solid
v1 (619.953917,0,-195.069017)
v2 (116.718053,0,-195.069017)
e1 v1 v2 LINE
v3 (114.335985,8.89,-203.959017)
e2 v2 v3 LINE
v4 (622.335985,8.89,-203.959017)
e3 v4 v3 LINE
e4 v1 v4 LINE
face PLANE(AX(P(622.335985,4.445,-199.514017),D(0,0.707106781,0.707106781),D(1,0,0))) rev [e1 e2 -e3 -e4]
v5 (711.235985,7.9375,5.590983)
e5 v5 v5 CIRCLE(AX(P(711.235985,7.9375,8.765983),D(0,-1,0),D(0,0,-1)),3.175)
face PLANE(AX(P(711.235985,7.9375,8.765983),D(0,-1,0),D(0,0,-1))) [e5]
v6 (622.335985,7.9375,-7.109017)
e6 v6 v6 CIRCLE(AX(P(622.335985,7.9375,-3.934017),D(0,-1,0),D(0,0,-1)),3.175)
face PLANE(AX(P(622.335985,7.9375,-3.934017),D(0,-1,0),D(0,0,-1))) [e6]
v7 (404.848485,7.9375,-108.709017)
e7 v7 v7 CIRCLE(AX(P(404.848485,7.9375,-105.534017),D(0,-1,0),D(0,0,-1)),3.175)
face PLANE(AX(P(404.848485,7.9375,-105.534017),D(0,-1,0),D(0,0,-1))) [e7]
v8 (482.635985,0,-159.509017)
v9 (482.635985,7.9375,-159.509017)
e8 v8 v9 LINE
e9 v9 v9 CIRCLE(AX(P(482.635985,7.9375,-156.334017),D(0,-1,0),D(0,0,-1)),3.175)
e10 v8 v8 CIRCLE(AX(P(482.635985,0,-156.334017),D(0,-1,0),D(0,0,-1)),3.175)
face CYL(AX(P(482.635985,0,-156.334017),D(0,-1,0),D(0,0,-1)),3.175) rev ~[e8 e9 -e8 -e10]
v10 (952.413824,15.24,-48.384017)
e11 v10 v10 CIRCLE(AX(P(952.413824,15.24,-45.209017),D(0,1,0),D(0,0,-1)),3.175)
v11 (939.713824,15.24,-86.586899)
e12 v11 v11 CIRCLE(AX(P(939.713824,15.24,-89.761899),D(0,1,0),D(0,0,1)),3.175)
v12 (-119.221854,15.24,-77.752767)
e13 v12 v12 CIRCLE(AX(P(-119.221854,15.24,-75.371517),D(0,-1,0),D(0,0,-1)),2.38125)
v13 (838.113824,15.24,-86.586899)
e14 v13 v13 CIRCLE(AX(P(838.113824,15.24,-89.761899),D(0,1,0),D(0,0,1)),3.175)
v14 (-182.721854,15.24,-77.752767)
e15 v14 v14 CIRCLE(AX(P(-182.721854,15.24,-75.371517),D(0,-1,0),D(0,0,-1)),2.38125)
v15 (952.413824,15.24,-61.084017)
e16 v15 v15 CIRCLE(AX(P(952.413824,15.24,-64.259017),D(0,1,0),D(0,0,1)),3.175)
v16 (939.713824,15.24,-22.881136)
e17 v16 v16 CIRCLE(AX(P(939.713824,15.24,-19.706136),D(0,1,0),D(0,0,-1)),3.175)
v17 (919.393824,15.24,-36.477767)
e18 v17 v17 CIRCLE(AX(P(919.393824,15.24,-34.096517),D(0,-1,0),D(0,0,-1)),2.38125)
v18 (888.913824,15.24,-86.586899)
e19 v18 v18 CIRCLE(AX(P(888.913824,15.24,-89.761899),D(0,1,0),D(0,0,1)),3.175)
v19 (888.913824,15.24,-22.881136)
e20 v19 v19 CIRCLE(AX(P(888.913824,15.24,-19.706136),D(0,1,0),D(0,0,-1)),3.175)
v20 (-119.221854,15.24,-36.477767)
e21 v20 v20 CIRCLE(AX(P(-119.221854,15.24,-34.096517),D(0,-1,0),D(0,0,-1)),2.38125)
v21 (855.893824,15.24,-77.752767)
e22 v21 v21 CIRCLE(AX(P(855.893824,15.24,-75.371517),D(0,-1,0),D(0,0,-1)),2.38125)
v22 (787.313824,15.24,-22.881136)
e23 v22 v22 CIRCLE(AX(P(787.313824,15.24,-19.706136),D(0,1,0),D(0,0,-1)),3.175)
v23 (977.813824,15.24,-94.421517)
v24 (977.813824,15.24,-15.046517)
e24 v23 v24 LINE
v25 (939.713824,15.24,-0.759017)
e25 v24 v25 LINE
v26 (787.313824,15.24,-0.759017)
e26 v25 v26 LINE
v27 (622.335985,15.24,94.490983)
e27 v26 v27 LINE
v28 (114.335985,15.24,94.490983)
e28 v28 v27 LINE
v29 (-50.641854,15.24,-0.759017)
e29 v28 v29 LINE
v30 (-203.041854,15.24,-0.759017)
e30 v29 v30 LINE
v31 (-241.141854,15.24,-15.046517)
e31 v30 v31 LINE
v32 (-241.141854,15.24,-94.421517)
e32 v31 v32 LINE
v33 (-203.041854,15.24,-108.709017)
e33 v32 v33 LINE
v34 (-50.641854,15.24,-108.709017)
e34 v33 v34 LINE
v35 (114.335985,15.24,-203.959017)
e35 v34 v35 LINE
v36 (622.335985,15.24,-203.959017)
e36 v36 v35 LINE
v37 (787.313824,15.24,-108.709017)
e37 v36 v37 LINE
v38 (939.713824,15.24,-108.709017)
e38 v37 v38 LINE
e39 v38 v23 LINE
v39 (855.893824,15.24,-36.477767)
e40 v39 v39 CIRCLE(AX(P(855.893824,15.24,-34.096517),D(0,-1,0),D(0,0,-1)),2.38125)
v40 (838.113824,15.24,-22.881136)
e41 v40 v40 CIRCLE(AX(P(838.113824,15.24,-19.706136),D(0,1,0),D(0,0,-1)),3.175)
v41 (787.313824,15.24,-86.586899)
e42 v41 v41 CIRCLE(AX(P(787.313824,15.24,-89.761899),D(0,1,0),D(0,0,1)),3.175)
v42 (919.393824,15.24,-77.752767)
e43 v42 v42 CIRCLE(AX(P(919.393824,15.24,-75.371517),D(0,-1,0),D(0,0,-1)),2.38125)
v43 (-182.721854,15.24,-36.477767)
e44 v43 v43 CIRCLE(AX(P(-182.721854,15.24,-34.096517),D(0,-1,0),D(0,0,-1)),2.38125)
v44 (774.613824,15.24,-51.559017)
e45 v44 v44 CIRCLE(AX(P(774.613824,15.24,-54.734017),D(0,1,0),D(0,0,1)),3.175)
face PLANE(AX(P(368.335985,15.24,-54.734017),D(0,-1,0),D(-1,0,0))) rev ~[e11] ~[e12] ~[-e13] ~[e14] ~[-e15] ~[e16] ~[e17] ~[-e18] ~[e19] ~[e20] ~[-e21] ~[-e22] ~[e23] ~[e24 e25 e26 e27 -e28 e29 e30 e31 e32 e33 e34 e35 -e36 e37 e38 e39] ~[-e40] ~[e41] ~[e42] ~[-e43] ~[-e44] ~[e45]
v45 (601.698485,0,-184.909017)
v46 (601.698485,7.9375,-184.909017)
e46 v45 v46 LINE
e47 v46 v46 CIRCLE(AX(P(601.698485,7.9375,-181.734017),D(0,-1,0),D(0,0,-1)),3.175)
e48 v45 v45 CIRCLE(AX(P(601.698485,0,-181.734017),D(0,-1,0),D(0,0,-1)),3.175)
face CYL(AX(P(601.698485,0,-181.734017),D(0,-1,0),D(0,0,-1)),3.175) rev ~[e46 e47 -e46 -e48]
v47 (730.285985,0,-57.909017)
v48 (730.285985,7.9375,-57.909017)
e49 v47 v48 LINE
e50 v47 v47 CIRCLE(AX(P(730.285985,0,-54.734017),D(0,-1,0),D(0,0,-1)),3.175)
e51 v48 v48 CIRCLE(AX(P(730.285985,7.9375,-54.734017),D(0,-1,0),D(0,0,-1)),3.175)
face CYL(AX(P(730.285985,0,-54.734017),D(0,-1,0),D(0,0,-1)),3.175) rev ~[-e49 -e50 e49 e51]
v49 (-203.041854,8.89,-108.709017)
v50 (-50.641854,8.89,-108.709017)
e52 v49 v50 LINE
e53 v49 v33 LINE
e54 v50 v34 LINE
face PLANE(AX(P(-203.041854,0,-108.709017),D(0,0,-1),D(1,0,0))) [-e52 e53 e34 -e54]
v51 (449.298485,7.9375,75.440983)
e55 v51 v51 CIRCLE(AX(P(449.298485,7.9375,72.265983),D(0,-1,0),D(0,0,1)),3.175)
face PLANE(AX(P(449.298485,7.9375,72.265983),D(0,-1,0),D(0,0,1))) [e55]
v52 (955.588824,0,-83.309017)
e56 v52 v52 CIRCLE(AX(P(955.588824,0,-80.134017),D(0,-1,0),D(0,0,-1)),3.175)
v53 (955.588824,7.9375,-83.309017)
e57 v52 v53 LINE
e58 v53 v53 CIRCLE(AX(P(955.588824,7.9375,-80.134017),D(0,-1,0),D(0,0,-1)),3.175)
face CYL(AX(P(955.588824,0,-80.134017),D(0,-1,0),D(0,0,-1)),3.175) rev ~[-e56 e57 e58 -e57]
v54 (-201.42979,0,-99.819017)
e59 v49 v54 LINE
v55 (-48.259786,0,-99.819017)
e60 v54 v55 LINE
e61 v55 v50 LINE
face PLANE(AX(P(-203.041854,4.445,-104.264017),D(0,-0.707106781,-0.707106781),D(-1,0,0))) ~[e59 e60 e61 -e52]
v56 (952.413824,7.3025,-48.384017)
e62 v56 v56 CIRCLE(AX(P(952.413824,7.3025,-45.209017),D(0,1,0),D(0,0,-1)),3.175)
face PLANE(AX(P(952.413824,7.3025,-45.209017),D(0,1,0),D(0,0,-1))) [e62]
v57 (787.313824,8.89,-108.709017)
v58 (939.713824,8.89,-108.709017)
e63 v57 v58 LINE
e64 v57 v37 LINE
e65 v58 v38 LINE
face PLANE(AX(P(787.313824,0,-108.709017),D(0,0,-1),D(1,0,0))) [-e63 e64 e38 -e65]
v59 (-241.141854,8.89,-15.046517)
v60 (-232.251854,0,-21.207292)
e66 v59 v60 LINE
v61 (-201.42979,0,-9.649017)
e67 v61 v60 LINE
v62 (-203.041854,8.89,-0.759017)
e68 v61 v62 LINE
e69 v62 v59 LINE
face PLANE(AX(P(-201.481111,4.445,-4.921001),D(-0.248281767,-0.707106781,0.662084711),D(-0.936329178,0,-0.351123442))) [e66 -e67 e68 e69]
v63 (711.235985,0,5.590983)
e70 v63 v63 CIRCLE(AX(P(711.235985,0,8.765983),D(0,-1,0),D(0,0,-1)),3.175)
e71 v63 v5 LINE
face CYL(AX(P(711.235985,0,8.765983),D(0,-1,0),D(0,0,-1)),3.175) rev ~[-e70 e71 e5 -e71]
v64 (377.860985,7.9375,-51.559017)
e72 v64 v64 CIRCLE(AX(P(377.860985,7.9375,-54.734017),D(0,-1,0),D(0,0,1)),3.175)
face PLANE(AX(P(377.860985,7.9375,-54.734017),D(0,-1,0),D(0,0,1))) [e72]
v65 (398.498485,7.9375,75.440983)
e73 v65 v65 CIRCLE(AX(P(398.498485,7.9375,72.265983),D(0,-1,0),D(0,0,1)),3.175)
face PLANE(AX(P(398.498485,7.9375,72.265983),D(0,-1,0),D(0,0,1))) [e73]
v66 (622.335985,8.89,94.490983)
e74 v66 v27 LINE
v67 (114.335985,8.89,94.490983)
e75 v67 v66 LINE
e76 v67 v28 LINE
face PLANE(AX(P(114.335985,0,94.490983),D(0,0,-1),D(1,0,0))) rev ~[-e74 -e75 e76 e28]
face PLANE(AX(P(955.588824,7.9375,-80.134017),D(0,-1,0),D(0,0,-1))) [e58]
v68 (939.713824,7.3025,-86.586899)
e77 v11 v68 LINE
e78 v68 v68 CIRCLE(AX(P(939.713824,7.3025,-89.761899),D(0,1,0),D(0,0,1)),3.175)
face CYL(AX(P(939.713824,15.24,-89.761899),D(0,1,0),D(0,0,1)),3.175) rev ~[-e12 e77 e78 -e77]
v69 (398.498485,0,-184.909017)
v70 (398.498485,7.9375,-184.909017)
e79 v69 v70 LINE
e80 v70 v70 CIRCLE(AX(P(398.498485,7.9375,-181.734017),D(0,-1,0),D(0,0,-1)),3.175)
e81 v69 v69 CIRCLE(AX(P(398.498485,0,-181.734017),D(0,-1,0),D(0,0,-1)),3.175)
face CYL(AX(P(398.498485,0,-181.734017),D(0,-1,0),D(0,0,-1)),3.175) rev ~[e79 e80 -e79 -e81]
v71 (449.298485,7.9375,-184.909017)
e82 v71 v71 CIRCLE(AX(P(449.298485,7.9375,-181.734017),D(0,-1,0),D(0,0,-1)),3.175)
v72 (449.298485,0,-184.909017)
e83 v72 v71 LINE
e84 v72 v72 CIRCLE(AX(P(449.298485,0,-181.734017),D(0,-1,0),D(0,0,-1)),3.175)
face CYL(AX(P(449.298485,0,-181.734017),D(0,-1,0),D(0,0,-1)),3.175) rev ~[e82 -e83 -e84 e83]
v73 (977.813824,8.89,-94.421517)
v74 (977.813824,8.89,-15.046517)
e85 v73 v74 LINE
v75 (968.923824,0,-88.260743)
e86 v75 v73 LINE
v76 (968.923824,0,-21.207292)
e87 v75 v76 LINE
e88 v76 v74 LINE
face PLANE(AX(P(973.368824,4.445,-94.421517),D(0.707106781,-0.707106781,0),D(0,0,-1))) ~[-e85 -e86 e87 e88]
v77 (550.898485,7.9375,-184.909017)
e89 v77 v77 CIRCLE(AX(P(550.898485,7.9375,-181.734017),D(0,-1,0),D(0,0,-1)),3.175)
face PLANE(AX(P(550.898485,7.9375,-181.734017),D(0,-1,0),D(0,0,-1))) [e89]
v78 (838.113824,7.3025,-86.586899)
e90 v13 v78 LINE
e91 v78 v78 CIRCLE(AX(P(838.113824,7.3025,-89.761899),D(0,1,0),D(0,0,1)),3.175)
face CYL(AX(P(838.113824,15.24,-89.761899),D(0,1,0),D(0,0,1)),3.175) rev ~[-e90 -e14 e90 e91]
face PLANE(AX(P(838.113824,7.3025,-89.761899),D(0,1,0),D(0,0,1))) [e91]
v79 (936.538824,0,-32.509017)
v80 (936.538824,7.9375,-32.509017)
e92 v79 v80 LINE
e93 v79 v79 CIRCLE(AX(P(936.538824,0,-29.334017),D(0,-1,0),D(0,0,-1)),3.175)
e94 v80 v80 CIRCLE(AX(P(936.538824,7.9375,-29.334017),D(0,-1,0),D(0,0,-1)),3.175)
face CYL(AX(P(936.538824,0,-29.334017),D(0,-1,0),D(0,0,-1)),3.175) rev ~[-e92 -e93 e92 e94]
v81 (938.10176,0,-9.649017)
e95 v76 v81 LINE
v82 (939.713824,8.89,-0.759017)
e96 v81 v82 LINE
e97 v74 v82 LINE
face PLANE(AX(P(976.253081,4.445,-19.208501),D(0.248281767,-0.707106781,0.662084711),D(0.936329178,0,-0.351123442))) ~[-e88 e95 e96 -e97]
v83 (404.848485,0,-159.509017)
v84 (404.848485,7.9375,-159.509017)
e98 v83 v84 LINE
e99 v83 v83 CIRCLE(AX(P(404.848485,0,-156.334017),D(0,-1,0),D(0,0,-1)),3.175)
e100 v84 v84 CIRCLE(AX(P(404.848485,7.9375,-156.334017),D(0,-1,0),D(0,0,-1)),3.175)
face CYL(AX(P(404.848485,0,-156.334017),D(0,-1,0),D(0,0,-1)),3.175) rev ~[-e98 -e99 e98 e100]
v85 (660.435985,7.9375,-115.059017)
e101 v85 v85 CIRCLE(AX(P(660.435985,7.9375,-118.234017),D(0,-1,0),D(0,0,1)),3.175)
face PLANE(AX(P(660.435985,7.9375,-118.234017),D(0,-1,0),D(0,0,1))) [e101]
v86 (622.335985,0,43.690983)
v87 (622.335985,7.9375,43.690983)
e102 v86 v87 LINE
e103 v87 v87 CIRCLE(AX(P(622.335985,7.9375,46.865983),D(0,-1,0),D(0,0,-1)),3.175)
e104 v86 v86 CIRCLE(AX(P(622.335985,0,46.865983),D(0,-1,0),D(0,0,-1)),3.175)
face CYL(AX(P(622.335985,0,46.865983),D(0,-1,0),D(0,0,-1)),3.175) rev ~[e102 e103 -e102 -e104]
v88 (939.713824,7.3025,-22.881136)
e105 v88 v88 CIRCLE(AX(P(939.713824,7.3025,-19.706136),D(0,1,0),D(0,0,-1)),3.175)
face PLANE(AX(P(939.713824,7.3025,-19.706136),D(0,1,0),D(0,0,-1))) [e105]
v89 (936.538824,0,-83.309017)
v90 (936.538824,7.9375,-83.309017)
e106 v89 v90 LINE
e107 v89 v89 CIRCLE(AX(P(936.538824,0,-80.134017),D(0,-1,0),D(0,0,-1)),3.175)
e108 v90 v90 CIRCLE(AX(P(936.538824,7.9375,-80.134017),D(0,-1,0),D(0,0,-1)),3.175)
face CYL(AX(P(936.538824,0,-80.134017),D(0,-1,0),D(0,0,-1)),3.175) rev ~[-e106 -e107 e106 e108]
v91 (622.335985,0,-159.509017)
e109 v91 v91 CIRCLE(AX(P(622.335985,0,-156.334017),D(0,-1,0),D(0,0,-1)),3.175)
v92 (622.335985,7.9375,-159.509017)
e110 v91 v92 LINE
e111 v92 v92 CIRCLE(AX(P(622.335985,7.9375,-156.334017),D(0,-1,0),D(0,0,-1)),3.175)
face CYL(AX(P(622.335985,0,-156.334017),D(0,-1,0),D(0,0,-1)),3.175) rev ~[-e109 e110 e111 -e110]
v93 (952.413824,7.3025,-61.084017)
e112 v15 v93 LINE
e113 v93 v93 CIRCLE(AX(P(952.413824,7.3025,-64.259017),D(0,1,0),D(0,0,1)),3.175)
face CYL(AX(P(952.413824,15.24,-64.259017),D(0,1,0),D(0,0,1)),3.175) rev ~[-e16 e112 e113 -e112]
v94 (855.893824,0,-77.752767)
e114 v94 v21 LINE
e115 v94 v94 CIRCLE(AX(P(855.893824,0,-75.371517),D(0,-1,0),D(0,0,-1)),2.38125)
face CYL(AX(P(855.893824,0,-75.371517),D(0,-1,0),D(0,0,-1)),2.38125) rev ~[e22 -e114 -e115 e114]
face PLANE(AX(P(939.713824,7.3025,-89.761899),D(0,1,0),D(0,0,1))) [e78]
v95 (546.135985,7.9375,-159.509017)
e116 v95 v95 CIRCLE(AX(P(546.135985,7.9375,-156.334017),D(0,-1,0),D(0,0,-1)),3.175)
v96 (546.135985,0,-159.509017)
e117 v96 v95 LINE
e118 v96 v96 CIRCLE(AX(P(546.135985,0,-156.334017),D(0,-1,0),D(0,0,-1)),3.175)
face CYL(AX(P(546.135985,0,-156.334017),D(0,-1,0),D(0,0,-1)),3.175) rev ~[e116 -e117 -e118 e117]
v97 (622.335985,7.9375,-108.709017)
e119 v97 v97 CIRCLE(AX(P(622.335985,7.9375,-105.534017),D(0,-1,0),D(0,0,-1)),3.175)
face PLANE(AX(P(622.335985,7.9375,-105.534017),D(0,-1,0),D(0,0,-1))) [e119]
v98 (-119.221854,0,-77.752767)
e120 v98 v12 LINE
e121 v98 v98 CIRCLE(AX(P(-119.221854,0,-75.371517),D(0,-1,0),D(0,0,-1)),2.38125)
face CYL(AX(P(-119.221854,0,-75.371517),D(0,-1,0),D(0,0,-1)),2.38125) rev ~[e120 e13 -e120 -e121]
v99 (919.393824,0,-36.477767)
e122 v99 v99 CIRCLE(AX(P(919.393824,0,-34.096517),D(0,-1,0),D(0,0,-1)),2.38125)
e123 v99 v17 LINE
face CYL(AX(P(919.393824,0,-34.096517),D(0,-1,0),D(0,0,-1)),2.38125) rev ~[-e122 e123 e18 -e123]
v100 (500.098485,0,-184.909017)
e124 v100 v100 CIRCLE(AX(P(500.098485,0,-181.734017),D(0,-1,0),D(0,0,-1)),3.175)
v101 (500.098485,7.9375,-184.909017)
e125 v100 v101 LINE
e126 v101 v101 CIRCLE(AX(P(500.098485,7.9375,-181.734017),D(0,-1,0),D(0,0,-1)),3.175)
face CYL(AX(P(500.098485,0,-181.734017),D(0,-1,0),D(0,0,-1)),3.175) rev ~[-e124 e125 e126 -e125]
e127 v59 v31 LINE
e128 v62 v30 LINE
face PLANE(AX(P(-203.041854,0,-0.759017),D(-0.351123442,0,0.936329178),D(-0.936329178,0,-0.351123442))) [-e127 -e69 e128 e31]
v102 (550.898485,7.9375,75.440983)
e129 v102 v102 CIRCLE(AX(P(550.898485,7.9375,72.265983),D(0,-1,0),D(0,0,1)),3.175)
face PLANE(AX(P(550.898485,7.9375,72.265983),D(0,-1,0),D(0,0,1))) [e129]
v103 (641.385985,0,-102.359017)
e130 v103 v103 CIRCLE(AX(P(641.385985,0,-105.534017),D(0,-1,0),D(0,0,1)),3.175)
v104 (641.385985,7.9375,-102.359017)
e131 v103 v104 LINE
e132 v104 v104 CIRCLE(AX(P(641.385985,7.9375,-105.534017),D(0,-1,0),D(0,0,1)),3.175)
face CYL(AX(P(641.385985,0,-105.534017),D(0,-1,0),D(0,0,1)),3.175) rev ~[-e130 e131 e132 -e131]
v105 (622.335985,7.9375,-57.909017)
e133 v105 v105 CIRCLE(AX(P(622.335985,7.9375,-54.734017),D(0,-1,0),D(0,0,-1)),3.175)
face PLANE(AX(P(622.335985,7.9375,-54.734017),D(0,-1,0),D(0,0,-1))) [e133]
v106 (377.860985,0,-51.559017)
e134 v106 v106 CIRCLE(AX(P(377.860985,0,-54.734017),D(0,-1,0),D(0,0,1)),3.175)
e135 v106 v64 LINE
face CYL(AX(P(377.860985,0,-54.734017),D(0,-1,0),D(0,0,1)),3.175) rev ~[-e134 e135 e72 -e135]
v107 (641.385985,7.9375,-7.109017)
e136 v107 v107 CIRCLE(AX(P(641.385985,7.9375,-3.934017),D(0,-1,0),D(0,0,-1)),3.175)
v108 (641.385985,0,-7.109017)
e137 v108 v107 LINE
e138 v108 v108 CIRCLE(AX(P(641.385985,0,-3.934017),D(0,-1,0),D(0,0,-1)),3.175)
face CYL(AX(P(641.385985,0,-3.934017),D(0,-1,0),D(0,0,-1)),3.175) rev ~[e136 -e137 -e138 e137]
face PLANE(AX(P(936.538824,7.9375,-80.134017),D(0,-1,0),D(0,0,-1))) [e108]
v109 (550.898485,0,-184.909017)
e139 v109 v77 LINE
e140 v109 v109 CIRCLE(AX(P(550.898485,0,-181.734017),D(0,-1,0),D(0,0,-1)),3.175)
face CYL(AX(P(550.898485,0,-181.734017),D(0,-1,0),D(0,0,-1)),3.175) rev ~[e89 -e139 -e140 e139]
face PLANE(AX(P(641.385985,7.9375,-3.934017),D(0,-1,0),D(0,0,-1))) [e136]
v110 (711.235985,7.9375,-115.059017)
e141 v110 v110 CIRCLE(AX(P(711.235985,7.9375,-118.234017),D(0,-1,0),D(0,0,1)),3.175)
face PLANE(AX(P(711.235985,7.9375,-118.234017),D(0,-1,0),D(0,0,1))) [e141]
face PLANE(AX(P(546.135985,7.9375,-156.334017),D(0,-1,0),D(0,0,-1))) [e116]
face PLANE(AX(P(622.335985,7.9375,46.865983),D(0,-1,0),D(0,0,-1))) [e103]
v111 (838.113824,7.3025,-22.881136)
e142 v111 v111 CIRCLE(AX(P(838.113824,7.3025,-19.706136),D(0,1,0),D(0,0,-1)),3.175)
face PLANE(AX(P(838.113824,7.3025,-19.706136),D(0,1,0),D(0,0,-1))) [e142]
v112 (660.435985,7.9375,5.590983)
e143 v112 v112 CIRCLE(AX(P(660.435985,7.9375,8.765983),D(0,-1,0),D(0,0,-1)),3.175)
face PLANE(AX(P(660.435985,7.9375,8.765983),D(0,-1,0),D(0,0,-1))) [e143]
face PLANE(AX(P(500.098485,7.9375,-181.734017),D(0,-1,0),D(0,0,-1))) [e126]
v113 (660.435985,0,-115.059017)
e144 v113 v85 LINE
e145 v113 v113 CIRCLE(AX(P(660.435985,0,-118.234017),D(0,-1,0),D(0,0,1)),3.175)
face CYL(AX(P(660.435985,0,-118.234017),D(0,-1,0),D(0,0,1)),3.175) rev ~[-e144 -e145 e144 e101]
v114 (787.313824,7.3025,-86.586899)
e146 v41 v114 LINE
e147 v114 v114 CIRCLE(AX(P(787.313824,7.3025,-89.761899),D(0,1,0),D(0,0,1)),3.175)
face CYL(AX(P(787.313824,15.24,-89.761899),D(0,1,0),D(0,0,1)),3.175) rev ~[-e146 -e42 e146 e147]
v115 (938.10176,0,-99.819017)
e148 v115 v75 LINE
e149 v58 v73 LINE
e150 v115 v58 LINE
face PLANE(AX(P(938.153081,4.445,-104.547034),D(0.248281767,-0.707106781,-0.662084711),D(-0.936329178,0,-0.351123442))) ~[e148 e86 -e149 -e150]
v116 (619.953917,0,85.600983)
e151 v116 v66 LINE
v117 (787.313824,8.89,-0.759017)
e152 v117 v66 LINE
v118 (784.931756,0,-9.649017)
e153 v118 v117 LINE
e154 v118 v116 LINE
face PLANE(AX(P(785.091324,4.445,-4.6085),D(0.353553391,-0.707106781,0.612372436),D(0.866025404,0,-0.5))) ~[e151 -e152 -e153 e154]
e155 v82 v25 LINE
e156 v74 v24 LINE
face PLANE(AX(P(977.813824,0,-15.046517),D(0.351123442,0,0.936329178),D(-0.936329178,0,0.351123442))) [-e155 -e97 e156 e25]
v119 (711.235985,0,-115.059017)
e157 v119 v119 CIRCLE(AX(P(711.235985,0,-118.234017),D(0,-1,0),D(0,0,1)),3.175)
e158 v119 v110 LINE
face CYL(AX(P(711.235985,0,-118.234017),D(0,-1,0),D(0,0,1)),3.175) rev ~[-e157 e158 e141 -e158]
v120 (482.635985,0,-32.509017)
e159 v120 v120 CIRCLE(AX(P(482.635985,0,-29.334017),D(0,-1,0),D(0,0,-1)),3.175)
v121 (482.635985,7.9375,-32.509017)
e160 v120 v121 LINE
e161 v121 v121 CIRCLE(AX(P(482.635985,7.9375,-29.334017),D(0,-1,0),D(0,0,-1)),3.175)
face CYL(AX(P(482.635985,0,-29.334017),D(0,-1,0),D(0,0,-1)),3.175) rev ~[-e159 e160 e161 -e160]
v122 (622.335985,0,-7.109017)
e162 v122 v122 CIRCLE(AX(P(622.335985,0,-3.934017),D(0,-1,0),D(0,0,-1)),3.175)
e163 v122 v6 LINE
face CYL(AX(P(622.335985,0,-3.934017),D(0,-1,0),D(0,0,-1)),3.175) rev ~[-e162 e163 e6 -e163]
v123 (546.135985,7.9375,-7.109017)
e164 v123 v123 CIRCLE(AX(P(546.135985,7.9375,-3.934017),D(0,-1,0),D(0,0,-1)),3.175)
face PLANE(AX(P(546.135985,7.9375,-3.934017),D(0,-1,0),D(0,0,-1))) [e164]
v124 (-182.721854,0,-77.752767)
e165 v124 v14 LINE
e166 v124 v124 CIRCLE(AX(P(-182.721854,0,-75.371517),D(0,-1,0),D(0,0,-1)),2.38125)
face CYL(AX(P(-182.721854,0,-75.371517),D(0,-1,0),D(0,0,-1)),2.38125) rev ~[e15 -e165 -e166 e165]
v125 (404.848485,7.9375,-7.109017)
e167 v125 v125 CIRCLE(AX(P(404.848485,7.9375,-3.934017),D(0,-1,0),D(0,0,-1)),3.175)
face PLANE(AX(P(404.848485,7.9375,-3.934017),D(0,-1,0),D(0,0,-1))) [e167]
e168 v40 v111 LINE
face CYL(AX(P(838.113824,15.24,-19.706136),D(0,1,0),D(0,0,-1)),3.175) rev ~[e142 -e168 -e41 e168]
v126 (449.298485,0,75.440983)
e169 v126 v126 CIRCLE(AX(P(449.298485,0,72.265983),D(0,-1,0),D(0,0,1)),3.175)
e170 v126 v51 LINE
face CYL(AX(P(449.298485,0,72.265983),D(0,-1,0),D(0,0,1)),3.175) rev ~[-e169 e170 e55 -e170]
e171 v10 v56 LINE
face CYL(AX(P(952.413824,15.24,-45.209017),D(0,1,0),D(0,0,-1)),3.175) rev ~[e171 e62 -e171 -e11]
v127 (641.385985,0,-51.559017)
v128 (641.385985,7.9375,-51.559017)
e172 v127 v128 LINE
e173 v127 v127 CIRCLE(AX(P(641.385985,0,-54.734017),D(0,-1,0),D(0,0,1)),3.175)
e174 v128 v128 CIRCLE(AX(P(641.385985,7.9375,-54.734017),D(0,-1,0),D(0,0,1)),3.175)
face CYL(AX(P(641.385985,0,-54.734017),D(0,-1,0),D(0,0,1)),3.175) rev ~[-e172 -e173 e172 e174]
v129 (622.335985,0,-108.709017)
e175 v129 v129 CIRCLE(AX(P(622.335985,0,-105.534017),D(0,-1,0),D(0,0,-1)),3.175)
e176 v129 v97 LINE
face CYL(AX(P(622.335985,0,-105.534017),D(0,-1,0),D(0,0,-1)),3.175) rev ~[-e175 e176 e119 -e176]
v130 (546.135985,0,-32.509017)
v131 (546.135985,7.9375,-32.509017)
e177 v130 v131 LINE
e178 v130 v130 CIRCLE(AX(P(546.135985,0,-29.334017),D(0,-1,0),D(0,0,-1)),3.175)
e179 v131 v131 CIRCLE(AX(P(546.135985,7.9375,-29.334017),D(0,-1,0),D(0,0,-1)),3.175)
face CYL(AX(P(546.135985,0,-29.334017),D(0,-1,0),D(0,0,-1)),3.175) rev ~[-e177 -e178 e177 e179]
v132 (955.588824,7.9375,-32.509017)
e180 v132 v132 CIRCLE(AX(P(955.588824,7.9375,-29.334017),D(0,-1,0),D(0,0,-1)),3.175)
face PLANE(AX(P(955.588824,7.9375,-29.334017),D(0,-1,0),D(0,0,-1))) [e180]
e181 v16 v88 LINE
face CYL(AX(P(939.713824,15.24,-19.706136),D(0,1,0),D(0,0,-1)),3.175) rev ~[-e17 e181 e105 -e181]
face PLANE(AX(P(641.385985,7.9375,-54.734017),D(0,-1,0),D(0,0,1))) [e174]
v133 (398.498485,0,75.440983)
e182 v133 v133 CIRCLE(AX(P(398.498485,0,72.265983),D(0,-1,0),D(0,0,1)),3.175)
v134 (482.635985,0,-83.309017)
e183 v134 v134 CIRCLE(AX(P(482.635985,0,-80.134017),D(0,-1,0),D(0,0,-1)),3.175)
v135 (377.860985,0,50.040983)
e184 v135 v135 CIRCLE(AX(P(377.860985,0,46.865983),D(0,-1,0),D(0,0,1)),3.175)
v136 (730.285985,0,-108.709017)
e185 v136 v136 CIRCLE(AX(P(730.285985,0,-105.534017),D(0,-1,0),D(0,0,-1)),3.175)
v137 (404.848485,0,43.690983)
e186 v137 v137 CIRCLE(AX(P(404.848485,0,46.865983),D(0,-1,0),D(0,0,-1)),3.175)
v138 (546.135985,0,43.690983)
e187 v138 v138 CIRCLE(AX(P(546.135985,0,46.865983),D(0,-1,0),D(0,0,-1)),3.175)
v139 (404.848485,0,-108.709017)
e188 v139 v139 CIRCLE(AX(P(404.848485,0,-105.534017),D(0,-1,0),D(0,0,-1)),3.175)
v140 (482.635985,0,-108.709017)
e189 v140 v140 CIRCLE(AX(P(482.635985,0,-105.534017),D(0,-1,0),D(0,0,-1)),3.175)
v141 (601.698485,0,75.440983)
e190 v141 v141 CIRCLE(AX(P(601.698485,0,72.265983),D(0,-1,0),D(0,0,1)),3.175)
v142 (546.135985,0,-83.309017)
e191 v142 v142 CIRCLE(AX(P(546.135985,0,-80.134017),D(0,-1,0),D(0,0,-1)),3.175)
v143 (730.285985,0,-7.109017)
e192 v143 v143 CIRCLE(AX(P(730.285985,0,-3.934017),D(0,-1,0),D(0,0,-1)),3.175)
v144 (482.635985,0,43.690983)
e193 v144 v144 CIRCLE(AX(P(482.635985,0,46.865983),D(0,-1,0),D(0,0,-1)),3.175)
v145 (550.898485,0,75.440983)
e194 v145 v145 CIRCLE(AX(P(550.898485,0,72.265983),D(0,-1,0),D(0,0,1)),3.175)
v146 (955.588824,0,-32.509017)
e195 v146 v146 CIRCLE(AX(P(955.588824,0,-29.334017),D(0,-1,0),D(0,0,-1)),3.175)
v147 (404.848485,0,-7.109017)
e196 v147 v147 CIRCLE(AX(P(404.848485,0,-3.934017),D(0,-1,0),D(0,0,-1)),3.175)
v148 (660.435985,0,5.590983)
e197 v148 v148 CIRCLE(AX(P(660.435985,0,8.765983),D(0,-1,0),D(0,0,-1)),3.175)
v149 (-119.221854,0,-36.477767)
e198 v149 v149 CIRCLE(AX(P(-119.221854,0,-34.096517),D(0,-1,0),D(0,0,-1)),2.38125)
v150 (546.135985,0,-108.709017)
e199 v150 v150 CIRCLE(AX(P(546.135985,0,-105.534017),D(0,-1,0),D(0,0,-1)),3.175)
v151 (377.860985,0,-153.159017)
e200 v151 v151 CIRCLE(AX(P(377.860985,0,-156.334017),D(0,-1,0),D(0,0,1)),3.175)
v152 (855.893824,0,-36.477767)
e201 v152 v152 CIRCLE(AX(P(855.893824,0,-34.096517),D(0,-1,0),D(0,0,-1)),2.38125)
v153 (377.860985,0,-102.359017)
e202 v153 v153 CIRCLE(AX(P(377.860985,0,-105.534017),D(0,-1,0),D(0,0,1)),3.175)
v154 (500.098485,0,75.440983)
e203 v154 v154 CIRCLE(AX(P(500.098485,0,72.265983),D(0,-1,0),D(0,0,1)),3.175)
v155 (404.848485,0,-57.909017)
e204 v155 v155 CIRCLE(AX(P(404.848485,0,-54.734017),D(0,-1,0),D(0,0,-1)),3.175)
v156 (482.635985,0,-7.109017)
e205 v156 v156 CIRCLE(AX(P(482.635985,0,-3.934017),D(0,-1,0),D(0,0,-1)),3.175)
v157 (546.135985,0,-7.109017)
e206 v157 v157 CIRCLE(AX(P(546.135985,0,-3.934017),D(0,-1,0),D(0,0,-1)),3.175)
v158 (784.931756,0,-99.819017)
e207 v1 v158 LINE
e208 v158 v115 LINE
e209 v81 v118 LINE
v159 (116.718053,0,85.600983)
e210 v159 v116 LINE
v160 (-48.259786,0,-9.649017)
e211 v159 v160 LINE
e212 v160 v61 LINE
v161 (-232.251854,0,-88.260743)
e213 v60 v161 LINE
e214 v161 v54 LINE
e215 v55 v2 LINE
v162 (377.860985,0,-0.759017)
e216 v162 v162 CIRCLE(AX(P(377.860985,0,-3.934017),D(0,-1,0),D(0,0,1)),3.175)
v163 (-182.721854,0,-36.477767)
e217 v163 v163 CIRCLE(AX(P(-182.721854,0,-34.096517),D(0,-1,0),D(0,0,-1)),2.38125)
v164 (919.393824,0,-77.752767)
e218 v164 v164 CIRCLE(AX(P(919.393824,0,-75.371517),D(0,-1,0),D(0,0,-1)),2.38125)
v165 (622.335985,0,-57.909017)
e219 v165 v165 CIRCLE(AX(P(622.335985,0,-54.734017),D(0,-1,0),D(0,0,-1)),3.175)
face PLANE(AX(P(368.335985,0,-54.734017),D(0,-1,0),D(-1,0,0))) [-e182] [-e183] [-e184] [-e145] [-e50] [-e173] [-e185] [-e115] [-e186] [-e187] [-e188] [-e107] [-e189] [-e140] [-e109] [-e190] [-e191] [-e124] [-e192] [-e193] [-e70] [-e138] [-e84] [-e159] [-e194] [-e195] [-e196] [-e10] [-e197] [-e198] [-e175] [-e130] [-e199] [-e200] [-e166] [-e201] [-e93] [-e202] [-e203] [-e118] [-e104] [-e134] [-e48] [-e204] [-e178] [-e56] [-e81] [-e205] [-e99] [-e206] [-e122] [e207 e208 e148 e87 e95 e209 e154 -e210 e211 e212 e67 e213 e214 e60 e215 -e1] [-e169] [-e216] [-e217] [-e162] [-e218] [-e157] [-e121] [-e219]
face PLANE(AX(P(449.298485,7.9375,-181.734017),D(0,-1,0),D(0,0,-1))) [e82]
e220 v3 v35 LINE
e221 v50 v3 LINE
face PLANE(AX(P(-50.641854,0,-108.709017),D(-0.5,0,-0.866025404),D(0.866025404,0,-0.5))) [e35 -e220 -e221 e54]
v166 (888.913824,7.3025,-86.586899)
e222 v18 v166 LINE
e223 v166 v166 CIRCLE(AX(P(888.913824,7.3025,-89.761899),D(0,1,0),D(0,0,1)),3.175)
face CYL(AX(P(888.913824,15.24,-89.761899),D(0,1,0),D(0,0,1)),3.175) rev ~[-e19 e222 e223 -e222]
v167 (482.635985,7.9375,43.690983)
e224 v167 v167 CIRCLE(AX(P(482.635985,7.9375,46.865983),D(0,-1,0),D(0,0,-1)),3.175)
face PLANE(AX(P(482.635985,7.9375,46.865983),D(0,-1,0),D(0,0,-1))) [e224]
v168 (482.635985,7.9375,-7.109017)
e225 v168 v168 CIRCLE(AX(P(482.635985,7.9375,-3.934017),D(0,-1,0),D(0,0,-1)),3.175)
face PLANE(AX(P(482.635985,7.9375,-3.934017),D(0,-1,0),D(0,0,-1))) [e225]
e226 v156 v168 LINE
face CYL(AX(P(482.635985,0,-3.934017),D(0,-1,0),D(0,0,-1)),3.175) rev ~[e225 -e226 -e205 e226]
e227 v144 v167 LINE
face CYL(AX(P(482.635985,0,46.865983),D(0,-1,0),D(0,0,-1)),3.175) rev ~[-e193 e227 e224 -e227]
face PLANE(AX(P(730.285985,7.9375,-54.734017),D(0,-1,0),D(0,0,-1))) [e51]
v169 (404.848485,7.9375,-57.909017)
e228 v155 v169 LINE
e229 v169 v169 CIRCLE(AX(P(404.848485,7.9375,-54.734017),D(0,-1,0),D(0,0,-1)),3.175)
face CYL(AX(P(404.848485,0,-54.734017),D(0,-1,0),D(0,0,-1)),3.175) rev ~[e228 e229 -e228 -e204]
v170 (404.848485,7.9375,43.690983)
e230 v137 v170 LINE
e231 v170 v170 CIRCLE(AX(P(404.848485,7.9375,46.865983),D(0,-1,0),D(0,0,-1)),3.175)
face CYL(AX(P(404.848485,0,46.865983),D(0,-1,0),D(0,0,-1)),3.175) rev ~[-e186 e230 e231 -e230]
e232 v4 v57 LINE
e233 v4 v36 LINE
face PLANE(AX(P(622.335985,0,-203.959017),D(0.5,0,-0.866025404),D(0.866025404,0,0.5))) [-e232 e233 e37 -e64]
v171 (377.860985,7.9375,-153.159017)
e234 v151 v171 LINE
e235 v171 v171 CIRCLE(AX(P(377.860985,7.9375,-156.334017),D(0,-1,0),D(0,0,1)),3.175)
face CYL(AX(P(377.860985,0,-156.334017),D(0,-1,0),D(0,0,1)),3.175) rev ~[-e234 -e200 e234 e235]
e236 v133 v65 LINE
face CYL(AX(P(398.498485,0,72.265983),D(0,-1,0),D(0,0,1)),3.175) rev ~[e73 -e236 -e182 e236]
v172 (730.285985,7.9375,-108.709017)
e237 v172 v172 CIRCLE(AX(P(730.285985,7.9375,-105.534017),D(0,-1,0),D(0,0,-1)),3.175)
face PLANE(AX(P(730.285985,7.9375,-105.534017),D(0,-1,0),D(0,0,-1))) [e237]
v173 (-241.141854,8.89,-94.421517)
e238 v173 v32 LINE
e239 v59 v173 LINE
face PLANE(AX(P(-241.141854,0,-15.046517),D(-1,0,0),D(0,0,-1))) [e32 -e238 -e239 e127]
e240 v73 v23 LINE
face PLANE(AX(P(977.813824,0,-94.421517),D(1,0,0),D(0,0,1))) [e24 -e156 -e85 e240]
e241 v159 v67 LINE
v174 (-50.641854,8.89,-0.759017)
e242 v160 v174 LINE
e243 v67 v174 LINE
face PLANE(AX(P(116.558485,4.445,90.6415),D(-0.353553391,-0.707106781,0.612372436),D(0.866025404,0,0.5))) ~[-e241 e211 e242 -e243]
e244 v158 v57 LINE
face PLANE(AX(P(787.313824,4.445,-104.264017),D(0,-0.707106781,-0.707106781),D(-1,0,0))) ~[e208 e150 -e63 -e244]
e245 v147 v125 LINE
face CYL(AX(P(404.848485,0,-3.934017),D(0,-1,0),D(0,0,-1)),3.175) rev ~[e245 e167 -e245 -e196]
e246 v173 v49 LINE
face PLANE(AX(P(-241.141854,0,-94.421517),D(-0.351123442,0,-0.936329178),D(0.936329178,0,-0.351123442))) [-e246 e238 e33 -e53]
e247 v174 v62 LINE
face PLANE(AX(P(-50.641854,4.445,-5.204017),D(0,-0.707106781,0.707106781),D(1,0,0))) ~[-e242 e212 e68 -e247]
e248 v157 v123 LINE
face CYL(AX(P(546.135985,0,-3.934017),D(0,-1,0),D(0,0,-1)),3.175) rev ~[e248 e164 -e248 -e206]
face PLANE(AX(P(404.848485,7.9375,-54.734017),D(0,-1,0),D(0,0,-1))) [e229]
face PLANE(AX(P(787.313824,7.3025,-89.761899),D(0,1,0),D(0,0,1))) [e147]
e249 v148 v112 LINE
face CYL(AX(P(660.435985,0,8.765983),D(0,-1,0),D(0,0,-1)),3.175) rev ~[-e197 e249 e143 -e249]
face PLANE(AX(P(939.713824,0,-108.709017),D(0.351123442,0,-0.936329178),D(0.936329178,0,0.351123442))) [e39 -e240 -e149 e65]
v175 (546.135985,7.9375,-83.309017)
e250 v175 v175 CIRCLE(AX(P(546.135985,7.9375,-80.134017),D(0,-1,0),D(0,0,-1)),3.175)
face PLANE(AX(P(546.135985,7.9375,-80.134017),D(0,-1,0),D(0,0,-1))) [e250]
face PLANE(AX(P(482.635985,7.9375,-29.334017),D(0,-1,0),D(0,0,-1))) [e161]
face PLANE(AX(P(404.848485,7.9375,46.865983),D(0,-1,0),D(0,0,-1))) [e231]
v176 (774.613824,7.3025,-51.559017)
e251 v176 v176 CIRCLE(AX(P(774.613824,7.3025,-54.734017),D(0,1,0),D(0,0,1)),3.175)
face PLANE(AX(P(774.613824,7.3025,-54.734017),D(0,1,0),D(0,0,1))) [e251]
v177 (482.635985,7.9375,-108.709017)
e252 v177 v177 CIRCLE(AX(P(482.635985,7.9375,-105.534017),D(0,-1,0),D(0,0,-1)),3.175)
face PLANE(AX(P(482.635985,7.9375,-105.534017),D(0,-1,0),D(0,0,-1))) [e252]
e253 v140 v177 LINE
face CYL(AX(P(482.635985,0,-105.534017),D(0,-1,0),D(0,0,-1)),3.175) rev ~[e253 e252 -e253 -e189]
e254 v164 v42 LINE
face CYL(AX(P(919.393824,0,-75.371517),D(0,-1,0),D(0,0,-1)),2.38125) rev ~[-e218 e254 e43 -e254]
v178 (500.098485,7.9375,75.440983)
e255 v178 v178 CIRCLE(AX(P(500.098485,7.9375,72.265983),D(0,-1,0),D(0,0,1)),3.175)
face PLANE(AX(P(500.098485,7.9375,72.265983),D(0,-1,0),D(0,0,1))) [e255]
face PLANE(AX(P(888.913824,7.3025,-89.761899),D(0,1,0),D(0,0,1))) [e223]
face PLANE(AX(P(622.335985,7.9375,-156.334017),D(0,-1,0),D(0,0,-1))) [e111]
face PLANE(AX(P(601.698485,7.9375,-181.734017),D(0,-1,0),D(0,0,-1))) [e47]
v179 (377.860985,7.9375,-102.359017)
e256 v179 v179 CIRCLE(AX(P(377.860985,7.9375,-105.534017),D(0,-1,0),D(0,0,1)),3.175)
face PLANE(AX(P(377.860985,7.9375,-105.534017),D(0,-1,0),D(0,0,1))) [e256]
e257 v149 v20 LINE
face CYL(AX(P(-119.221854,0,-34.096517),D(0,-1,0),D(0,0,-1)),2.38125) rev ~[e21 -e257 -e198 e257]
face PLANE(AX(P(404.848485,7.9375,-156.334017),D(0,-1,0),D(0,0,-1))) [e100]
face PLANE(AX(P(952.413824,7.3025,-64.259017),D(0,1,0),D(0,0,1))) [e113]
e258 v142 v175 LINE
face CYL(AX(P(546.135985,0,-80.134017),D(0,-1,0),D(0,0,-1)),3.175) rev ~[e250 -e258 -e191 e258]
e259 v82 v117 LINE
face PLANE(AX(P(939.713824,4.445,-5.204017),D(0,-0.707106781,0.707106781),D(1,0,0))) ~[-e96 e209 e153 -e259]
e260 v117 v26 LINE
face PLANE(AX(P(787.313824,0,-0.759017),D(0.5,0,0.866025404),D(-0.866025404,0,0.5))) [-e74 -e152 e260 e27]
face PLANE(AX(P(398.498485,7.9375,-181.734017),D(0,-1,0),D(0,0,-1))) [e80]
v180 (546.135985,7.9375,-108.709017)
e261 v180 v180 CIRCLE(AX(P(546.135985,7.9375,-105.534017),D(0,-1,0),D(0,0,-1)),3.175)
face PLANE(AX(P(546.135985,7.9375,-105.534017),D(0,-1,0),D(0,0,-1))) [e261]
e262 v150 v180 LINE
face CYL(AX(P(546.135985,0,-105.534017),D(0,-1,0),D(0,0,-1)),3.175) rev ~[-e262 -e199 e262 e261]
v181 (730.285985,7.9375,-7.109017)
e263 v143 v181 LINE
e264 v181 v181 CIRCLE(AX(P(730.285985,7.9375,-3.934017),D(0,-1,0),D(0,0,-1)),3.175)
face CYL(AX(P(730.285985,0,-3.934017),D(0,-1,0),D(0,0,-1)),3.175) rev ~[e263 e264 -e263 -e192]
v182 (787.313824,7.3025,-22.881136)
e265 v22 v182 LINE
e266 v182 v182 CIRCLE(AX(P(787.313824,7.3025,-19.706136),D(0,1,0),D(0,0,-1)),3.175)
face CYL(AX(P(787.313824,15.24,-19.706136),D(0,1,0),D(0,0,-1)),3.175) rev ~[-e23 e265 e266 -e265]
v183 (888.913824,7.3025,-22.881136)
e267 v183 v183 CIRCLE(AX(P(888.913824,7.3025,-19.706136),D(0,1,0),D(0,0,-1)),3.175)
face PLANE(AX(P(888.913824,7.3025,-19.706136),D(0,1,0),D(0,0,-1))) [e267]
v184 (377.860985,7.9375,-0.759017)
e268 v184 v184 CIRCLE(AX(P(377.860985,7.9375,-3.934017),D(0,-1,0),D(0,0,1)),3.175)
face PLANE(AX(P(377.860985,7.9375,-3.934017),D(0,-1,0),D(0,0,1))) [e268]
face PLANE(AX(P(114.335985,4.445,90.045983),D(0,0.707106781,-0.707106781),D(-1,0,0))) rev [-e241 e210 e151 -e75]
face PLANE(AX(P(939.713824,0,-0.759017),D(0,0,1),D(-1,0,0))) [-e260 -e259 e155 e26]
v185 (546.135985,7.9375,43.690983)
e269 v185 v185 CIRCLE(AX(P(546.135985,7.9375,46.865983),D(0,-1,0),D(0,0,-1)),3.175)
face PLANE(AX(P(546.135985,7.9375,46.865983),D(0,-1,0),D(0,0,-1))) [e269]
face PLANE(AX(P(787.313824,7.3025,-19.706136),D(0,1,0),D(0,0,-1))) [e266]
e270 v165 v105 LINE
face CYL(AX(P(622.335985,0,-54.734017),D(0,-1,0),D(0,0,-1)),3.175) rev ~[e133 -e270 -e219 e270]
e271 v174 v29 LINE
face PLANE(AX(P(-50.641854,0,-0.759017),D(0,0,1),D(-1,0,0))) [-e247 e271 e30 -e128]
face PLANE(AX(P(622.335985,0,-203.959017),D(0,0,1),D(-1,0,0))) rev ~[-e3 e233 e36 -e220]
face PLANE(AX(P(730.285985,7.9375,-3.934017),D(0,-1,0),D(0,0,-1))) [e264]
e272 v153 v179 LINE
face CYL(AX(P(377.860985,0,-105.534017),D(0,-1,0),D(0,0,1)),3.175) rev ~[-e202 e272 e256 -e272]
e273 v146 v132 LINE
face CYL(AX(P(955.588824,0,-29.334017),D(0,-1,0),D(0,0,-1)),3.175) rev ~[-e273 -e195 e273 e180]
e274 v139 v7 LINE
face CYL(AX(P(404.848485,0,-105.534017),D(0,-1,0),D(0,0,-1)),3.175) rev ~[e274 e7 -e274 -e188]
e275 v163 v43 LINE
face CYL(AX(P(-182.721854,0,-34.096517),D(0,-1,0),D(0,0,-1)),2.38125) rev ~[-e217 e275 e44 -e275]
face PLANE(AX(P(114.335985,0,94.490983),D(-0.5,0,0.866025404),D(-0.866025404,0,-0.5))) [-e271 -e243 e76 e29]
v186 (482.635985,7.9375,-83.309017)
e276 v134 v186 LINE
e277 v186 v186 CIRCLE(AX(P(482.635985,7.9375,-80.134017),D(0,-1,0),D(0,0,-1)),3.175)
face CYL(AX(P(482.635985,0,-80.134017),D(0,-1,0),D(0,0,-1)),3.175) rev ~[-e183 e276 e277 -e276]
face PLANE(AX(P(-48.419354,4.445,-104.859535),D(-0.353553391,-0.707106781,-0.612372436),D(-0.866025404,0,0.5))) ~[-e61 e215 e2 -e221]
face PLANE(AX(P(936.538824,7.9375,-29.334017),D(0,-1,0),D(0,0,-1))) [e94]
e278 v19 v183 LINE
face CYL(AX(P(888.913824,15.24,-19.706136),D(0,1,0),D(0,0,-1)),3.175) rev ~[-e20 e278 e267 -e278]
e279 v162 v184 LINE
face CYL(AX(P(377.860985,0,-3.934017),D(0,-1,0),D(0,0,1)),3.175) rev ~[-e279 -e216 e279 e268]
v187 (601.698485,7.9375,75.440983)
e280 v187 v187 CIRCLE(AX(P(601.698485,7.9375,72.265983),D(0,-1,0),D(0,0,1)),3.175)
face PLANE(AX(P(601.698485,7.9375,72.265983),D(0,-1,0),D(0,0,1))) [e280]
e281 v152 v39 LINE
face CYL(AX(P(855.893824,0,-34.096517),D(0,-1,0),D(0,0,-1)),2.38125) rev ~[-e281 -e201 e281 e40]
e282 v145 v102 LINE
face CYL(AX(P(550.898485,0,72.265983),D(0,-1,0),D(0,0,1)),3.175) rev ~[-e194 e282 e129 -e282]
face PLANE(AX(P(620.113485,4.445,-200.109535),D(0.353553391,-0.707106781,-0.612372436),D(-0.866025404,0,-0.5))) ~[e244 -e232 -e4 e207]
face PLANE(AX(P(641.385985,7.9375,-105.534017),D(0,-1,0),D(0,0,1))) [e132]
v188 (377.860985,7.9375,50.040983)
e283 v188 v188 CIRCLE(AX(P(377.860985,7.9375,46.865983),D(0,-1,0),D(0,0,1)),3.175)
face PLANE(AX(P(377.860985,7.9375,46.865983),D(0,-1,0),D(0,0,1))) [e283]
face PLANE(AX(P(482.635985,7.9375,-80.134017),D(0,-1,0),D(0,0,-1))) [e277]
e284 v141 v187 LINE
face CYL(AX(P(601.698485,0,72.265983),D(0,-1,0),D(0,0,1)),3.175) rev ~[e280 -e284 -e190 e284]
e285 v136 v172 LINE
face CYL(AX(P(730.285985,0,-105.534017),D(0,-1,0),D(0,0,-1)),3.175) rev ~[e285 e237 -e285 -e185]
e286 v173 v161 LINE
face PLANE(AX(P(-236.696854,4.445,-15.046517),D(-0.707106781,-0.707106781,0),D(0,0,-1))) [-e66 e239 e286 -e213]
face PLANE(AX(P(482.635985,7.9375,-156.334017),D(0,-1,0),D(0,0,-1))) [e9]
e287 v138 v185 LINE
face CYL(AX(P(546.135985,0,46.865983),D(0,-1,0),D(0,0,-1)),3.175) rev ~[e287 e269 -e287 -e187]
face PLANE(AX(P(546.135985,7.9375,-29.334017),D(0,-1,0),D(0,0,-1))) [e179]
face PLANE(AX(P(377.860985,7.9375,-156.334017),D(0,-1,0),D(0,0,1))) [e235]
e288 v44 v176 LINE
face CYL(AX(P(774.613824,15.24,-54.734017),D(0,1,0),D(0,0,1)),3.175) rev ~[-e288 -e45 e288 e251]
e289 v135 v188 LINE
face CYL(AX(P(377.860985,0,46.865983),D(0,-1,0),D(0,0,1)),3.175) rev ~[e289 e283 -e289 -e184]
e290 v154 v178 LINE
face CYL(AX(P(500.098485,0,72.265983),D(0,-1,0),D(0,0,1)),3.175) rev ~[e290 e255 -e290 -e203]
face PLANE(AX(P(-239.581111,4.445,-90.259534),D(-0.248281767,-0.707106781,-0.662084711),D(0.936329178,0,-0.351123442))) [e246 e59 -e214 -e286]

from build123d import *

# Parameters (mm, degrees)
BOSS_EXTRUDE1_DEPTH = 15.24
SKETCH2_R           = 2.38125
CUT_EXTRUDE1_DEPTH  = 15.24
CHAMFER1_SIZE       = 8.89
SKETCH3_R           = 3.175
CUT_EXTRUDE2_DEPTH  = 7.9375
SKETCH4_R           = 3.175
CUT_EXTRUDE3_DEPTH  = 7.9375


with BuildPart() as part:
    # Sketch1 → Boss-Extrude1 (new body)
    with BuildSketch(Plane(origin=(0, 0, 0), x_dir=(1, 0, 0), z_dir=(0, 1, 0))):
        Polygon((-241.141854356, 15.046517442), (-241.141854356, 94.421517442), (-203.041854356, 108.709017442), (-50.641854356, 108.709017442), (114.335985065, 203.959017442), (368.335985065, 203.959017442), (622.335985065, 203.959017442), (787.313824486, 108.709017442), (939.713824486, 108.709017442), (977.813824486, 94.421517442), (977.813824486, 15.046517442), (939.713824486, 0.759017442), (787.313824486, 0.759017442), (622.335985065, -94.490982558), (368.335985065, -94.490982558), (114.335985065, -94.490982558), (-50.641854356, 0.759017442), (-203.041854356, 0.759017442), align=None)
    extrude(amount=BOSS_EXTRUDE1_DEPTH)

    # Sketch2 → Cut-Extrude1 (cut)
    with BuildSketch(Plane(origin=(0, 0, 0), x_dir=(-1, 0, 0), z_dir=(0, -1, 0))):
        with Locations(Location((182.721854356, 34.096517442, 0), (0, 0, 90))):
            Circle(SKETCH2_R)
        with Locations(Location((182.721854356, 75.371517443, 0), (0, 0, 90))):
            Circle(SKETCH2_R)
        with Locations(Location((119.221854356, 75.371517443, 0), (0, 0, 90))):
            Circle(SKETCH2_R)
        with Locations(Location((119.221854356, 34.096517443, 0), (0, 0, 90))):
            Circle(SKETCH2_R)
        with Locations(Location((-855.893824486, 75.371517443, 0), (0, 0, 90))):
            Circle(SKETCH2_R)
        with Locations(Location((-919.393824486, 75.371517443, 0), (0, 0, 90))):
            Circle(SKETCH2_R)
        with Locations(Location((-919.393824486, 34.096517442, 0), (0, 0, 90))):
            Circle(SKETCH2_R)
        with Locations(Location((-855.893824486, 34.096517443, 0), (0, 0, 90))):
            Circle(SKETCH2_R)
    extrude(amount=-CUT_EXTRUDE1_DEPTH, mode=Mode.SUBTRACT)

    # Chamfer1
    chamfer1_edges = [part.edges().sort_by_distance(p)[0] for p in [
        (-126.841854356, 0, -0.759017442),
        (-222.091854356, 0, -7.902767442),
        (-241.141854356, 0, -54.734017442),
        (-222.091854356, 0, -101.565267442),
        (-126.841854356, 0, -108.709017442),
        (31.847065354, 0, -156.334017442),
        (368.335985065, 0, -203.959017442),
        (704.824904775, 0, -156.334017442),
        (863.513824486, 0, -108.709017442),
        (958.763824486, 0, -101.565267442),
        (977.813824486, 0, -54.734017442),
        (958.763824486, 0, -7.902767442),
        (863.513824486, 0, -0.759017442),
        (704.824904775, 0, 46.865982558),
        (368.335985065, 0, 94.490982558),
        (31.847065354, 0, 46.865982558),
    ]]
    chamfer(chamfer1_edges, length=CHAMFER1_SIZE)

    # Sketch3 → Cut-Extrude2 (cut)
    with BuildSketch(Plane.XZ):
        with Locations(Location((955.588824486, -80.134017442, 0), (0, 0, 270))):
            Circle(SKETCH3_R)
        with Locations(Location((955.588824486, -29.334017442, 0), (0, 0, 270))):
            Circle(SKETCH3_R)
        with Locations(Location((546.135985065, -156.334017442, 0), (0, 0, 270))):
            Circle(SKETCH3_R)
        with Locations(Location((482.635985065, -156.334017442, 0), (0, 0, 270))):
            Circle(SKETCH3_R)
        with Locations(Location((546.135985065, -105.534017442, 0), (0, 0, 270))):
            Circle(SKETCH3_R)
        with Locations(Location((482.635985065, -105.534017442, 0), (0, 0, 270))):
            Circle(SKETCH3_R)
        with Locations(Location((546.135985065, -80.134017442, 0), (0, 0, 270))):
            Circle(SKETCH3_R)
        with Locations(Location((546.135985065, -29.334017442, 0), (0, 0, 270))):
            Circle(SKETCH3_R)
        with Locations(Location((482.635985065, -29.334017442, 0), (0, 0, 270))):
            Circle(SKETCH3_R)
        with Locations(Location((482.635985065, -80.134017442, 0), (0, 0, 270))):
            Circle(SKETCH3_R)
        with Locations(Location((546.135985065, -3.934017442, 0), (0, 0, 270))):
            Circle(SKETCH3_R)
        with Locations(Location((546.135985065, 46.865982558, 0), (0, 0, 270))):
            Circle(SKETCH3_R)
        with Locations(Location((482.635985065, 46.865982558, 0), (0, 0, 270))):
            Circle(SKETCH3_R)
        with Locations(Location((482.635985065, -3.934017442, 0), (0, 0, 270))):
            Circle(SKETCH3_R)
        with Locations(Location((730.285985065, -54.734017442, 0), (0, 0, 270))):
            Circle(SKETCH3_R)
        with Locations(Location((730.285985065, -105.534017442, 0), (0, 0, 270))):
            Circle(SKETCH3_R)
        with Locations(Location((730.285985065, -3.934017442, 0), (0, 0, 270))):
            Circle(SKETCH3_R)
        with Locations(Location((711.235985065, 8.765982558, 0), (0, 0, 270))):
            Circle(SKETCH3_R)
        with Locations(Location((660.435985065, 8.765982558, 0), (0, 0, 270))):
            Circle(SKETCH3_R)
        with Locations(Location((622.335985065, -156.334017442, 0), (0, 0, 270))):
            Circle(SKETCH3_R)
        with Locations(Location((404.848485065, -156.334017442, 0), (0, 0, 270))):
            Circle(SKETCH3_R)
        with Locations(Location((404.848485065, -105.534017442, 0), (0, 0, 270))):
            Circle(SKETCH3_R)
        with Locations(Location((404.848485065, -54.734017442, 0), (0, 0, 270))):
            Circle(SKETCH3_R)
        with Locations(Location((404.848485065, -3.934017442, 0), (0, 0, 270))):
            Circle(SKETCH3_R)
        with Locations(Location((404.848485065, 46.865982558, 0), (0, 0, 270))):
            Circle(SKETCH3_R)
        with Locations(Location((660.435985065, -118.234017442, 0), (0, 0, 90))):
            Circle(SKETCH3_R)
        with Locations(Location((711.235985065, -118.234017442, 0), (0, 0, 90))):
            Circle(SKETCH3_R)
        with Locations(Location((641.385985065, -105.534017442, 0), (0, 0, 90))):
            Circle(SKETCH3_R)
        with Locations(Location((641.385985065, -54.734017442, 0), (0, 0, 90))):
            Circle(SKETCH3_R)
        with Locations(Location((641.385985065, -3.934017442, 0), (0, 0, 270))):
            Circle(SKETCH3_R)
        with Locations(Location((622.335985065, -105.534017442, 0), (0, 0, 270))):
            Circle(SKETCH3_R)
        with Locations(Location((622.335985065, -54.734017442, 0), (0, 0, 270))):
            Circle(SKETCH3_R)
        with Locations(Location((622.335985065, -3.934017442, 0), (0, 0, 270))):
            Circle(SKETCH3_R)
        with Locations(Location((622.335985065, 46.865982558, 0), (0, 0, 270))):
            Circle(SKETCH3_R)
        with Locations(Location((601.698485065, -181.734017442, 0), (0, 0, 270))):
            Circle(SKETCH3_R)
        with Locations(Location((550.898485065, -181.734017442, 0), (0, 0, 270))):
            Circle(SKETCH3_R)
        with Locations(Location((500.098485065, -181.734017443, 0), (0, 0, 270))):
            Circle(SKETCH3_R)
        with Locations(Location((449.298485065, -181.734017443, 0), (0, 0, 270))):
            Circle(SKETCH3_R)
        with Locations(Location((398.498485065, -181.734017443, 0), (0, 0, 270))):
            Circle(SKETCH3_R)
        with Locations(Location((398.498485065, 72.265982558, 0), (0, 0, 90))):
            Circle(SKETCH3_R)
        with Locations(Location((449.298485065, 72.265982558, 0), (0, 0, 90))):
            Circle(SKETCH3_R)
        with Locations(Location((500.098485065, 72.265982558, 0), (0, 0, 90))):
            Circle(SKETCH3_R)
        with Locations(Location((550.898485065, 72.265982558, 0), (0, 0, 90))):
            Circle(SKETCH3_R)
        with Locations(Location((601.698485065, 72.265982558, 0), (0, 0, 90))):
            Circle(SKETCH3_R)
        with Locations(Location((377.860985065, -156.334017442, 0), (0, 0, 90))):
            Circle(SKETCH3_R)
        with Locations(Location((377.860985065, -105.534017442, 0), (0, 0, 90))):
            Circle(SKETCH3_R)
        with Locations(Location((377.860985065, -54.734017442, 0), (0, 0, 90))):
            Circle(SKETCH3_R)
        with Locations(Location((377.860985065, -3.934017442, 0), (0, 0, 90))):
            Circle(SKETCH3_R)
        with Locations(Location((377.860985065, 46.865982558, 0), (0, 0, 90))):
            Circle(SKETCH3_R)
        with Locations(Location((936.538824486, -29.334017442, 0), (0, 0, 270))):
            Circle(SKETCH3_R)
        with Locations(Location((936.538824486, -80.134017442, 0), (0, 0, 270))):
            Circle(SKETCH3_R)
    extrude(amount=-CUT_EXTRUDE2_DEPTH, mode=Mode.SUBTRACT)

    # Sketch4 → Cut-Extrude3 (cut)
    with BuildSketch(Plane(origin=(0, 15.24, 0), x_dir=(1, 0, 0), z_dir=(0, 1, 0))):
        with Locations(Location((939.713824486, 89.761899088, 0), (0, 0, 270.000000003))):
            Circle(SKETCH4_R)
        with Locations(Location((939.713824486, 19.706135797, 0), (0, 0, 90))):
            Circle(SKETCH4_R)
        with Locations(Location((888.913824486, 89.761899088, 0), (0, 0, 270.000000002))):
            Circle(SKETCH4_R)
        with Locations(Location((888.913824486, 19.706135797, 0), (0, 0, 90))):
            Circle(SKETCH4_R)
        with Locations(Location((838.113824486, 89.761899088, 0), (0, 0, 270.000000002))):
            Circle(SKETCH4_R)
        with Locations(Location((838.113824486, 19.706135797, 0), (0, 0, 90))):
            Circle(SKETCH4_R)
        with Locations(Location((787.313824486, 89.761899088, 0), (0, 0, 270.000000002))):
            Circle(SKETCH4_R)
        with Locations(Location((787.313824486, 19.706135797, 0), (0, 0, 90))):
            Circle(SKETCH4_R)
        with Locations(Location((774.613824486, 54.734017442, 0), (0, 0, 270))):
            Circle(SKETCH4_R)
        with Locations(Location((952.413824486, 45.209017442, 0), (0, 0, 90))):
            Circle(SKETCH4_R)
        with Locations(Location((952.413824486, 64.259017442, 0), (0, 0, 270))):
            Circle(SKETCH4_R)
    extrude(amount=-CUT_EXTRUDE3_DEPTH, mode=Mode.SUBTRACT)


solid = part.part
